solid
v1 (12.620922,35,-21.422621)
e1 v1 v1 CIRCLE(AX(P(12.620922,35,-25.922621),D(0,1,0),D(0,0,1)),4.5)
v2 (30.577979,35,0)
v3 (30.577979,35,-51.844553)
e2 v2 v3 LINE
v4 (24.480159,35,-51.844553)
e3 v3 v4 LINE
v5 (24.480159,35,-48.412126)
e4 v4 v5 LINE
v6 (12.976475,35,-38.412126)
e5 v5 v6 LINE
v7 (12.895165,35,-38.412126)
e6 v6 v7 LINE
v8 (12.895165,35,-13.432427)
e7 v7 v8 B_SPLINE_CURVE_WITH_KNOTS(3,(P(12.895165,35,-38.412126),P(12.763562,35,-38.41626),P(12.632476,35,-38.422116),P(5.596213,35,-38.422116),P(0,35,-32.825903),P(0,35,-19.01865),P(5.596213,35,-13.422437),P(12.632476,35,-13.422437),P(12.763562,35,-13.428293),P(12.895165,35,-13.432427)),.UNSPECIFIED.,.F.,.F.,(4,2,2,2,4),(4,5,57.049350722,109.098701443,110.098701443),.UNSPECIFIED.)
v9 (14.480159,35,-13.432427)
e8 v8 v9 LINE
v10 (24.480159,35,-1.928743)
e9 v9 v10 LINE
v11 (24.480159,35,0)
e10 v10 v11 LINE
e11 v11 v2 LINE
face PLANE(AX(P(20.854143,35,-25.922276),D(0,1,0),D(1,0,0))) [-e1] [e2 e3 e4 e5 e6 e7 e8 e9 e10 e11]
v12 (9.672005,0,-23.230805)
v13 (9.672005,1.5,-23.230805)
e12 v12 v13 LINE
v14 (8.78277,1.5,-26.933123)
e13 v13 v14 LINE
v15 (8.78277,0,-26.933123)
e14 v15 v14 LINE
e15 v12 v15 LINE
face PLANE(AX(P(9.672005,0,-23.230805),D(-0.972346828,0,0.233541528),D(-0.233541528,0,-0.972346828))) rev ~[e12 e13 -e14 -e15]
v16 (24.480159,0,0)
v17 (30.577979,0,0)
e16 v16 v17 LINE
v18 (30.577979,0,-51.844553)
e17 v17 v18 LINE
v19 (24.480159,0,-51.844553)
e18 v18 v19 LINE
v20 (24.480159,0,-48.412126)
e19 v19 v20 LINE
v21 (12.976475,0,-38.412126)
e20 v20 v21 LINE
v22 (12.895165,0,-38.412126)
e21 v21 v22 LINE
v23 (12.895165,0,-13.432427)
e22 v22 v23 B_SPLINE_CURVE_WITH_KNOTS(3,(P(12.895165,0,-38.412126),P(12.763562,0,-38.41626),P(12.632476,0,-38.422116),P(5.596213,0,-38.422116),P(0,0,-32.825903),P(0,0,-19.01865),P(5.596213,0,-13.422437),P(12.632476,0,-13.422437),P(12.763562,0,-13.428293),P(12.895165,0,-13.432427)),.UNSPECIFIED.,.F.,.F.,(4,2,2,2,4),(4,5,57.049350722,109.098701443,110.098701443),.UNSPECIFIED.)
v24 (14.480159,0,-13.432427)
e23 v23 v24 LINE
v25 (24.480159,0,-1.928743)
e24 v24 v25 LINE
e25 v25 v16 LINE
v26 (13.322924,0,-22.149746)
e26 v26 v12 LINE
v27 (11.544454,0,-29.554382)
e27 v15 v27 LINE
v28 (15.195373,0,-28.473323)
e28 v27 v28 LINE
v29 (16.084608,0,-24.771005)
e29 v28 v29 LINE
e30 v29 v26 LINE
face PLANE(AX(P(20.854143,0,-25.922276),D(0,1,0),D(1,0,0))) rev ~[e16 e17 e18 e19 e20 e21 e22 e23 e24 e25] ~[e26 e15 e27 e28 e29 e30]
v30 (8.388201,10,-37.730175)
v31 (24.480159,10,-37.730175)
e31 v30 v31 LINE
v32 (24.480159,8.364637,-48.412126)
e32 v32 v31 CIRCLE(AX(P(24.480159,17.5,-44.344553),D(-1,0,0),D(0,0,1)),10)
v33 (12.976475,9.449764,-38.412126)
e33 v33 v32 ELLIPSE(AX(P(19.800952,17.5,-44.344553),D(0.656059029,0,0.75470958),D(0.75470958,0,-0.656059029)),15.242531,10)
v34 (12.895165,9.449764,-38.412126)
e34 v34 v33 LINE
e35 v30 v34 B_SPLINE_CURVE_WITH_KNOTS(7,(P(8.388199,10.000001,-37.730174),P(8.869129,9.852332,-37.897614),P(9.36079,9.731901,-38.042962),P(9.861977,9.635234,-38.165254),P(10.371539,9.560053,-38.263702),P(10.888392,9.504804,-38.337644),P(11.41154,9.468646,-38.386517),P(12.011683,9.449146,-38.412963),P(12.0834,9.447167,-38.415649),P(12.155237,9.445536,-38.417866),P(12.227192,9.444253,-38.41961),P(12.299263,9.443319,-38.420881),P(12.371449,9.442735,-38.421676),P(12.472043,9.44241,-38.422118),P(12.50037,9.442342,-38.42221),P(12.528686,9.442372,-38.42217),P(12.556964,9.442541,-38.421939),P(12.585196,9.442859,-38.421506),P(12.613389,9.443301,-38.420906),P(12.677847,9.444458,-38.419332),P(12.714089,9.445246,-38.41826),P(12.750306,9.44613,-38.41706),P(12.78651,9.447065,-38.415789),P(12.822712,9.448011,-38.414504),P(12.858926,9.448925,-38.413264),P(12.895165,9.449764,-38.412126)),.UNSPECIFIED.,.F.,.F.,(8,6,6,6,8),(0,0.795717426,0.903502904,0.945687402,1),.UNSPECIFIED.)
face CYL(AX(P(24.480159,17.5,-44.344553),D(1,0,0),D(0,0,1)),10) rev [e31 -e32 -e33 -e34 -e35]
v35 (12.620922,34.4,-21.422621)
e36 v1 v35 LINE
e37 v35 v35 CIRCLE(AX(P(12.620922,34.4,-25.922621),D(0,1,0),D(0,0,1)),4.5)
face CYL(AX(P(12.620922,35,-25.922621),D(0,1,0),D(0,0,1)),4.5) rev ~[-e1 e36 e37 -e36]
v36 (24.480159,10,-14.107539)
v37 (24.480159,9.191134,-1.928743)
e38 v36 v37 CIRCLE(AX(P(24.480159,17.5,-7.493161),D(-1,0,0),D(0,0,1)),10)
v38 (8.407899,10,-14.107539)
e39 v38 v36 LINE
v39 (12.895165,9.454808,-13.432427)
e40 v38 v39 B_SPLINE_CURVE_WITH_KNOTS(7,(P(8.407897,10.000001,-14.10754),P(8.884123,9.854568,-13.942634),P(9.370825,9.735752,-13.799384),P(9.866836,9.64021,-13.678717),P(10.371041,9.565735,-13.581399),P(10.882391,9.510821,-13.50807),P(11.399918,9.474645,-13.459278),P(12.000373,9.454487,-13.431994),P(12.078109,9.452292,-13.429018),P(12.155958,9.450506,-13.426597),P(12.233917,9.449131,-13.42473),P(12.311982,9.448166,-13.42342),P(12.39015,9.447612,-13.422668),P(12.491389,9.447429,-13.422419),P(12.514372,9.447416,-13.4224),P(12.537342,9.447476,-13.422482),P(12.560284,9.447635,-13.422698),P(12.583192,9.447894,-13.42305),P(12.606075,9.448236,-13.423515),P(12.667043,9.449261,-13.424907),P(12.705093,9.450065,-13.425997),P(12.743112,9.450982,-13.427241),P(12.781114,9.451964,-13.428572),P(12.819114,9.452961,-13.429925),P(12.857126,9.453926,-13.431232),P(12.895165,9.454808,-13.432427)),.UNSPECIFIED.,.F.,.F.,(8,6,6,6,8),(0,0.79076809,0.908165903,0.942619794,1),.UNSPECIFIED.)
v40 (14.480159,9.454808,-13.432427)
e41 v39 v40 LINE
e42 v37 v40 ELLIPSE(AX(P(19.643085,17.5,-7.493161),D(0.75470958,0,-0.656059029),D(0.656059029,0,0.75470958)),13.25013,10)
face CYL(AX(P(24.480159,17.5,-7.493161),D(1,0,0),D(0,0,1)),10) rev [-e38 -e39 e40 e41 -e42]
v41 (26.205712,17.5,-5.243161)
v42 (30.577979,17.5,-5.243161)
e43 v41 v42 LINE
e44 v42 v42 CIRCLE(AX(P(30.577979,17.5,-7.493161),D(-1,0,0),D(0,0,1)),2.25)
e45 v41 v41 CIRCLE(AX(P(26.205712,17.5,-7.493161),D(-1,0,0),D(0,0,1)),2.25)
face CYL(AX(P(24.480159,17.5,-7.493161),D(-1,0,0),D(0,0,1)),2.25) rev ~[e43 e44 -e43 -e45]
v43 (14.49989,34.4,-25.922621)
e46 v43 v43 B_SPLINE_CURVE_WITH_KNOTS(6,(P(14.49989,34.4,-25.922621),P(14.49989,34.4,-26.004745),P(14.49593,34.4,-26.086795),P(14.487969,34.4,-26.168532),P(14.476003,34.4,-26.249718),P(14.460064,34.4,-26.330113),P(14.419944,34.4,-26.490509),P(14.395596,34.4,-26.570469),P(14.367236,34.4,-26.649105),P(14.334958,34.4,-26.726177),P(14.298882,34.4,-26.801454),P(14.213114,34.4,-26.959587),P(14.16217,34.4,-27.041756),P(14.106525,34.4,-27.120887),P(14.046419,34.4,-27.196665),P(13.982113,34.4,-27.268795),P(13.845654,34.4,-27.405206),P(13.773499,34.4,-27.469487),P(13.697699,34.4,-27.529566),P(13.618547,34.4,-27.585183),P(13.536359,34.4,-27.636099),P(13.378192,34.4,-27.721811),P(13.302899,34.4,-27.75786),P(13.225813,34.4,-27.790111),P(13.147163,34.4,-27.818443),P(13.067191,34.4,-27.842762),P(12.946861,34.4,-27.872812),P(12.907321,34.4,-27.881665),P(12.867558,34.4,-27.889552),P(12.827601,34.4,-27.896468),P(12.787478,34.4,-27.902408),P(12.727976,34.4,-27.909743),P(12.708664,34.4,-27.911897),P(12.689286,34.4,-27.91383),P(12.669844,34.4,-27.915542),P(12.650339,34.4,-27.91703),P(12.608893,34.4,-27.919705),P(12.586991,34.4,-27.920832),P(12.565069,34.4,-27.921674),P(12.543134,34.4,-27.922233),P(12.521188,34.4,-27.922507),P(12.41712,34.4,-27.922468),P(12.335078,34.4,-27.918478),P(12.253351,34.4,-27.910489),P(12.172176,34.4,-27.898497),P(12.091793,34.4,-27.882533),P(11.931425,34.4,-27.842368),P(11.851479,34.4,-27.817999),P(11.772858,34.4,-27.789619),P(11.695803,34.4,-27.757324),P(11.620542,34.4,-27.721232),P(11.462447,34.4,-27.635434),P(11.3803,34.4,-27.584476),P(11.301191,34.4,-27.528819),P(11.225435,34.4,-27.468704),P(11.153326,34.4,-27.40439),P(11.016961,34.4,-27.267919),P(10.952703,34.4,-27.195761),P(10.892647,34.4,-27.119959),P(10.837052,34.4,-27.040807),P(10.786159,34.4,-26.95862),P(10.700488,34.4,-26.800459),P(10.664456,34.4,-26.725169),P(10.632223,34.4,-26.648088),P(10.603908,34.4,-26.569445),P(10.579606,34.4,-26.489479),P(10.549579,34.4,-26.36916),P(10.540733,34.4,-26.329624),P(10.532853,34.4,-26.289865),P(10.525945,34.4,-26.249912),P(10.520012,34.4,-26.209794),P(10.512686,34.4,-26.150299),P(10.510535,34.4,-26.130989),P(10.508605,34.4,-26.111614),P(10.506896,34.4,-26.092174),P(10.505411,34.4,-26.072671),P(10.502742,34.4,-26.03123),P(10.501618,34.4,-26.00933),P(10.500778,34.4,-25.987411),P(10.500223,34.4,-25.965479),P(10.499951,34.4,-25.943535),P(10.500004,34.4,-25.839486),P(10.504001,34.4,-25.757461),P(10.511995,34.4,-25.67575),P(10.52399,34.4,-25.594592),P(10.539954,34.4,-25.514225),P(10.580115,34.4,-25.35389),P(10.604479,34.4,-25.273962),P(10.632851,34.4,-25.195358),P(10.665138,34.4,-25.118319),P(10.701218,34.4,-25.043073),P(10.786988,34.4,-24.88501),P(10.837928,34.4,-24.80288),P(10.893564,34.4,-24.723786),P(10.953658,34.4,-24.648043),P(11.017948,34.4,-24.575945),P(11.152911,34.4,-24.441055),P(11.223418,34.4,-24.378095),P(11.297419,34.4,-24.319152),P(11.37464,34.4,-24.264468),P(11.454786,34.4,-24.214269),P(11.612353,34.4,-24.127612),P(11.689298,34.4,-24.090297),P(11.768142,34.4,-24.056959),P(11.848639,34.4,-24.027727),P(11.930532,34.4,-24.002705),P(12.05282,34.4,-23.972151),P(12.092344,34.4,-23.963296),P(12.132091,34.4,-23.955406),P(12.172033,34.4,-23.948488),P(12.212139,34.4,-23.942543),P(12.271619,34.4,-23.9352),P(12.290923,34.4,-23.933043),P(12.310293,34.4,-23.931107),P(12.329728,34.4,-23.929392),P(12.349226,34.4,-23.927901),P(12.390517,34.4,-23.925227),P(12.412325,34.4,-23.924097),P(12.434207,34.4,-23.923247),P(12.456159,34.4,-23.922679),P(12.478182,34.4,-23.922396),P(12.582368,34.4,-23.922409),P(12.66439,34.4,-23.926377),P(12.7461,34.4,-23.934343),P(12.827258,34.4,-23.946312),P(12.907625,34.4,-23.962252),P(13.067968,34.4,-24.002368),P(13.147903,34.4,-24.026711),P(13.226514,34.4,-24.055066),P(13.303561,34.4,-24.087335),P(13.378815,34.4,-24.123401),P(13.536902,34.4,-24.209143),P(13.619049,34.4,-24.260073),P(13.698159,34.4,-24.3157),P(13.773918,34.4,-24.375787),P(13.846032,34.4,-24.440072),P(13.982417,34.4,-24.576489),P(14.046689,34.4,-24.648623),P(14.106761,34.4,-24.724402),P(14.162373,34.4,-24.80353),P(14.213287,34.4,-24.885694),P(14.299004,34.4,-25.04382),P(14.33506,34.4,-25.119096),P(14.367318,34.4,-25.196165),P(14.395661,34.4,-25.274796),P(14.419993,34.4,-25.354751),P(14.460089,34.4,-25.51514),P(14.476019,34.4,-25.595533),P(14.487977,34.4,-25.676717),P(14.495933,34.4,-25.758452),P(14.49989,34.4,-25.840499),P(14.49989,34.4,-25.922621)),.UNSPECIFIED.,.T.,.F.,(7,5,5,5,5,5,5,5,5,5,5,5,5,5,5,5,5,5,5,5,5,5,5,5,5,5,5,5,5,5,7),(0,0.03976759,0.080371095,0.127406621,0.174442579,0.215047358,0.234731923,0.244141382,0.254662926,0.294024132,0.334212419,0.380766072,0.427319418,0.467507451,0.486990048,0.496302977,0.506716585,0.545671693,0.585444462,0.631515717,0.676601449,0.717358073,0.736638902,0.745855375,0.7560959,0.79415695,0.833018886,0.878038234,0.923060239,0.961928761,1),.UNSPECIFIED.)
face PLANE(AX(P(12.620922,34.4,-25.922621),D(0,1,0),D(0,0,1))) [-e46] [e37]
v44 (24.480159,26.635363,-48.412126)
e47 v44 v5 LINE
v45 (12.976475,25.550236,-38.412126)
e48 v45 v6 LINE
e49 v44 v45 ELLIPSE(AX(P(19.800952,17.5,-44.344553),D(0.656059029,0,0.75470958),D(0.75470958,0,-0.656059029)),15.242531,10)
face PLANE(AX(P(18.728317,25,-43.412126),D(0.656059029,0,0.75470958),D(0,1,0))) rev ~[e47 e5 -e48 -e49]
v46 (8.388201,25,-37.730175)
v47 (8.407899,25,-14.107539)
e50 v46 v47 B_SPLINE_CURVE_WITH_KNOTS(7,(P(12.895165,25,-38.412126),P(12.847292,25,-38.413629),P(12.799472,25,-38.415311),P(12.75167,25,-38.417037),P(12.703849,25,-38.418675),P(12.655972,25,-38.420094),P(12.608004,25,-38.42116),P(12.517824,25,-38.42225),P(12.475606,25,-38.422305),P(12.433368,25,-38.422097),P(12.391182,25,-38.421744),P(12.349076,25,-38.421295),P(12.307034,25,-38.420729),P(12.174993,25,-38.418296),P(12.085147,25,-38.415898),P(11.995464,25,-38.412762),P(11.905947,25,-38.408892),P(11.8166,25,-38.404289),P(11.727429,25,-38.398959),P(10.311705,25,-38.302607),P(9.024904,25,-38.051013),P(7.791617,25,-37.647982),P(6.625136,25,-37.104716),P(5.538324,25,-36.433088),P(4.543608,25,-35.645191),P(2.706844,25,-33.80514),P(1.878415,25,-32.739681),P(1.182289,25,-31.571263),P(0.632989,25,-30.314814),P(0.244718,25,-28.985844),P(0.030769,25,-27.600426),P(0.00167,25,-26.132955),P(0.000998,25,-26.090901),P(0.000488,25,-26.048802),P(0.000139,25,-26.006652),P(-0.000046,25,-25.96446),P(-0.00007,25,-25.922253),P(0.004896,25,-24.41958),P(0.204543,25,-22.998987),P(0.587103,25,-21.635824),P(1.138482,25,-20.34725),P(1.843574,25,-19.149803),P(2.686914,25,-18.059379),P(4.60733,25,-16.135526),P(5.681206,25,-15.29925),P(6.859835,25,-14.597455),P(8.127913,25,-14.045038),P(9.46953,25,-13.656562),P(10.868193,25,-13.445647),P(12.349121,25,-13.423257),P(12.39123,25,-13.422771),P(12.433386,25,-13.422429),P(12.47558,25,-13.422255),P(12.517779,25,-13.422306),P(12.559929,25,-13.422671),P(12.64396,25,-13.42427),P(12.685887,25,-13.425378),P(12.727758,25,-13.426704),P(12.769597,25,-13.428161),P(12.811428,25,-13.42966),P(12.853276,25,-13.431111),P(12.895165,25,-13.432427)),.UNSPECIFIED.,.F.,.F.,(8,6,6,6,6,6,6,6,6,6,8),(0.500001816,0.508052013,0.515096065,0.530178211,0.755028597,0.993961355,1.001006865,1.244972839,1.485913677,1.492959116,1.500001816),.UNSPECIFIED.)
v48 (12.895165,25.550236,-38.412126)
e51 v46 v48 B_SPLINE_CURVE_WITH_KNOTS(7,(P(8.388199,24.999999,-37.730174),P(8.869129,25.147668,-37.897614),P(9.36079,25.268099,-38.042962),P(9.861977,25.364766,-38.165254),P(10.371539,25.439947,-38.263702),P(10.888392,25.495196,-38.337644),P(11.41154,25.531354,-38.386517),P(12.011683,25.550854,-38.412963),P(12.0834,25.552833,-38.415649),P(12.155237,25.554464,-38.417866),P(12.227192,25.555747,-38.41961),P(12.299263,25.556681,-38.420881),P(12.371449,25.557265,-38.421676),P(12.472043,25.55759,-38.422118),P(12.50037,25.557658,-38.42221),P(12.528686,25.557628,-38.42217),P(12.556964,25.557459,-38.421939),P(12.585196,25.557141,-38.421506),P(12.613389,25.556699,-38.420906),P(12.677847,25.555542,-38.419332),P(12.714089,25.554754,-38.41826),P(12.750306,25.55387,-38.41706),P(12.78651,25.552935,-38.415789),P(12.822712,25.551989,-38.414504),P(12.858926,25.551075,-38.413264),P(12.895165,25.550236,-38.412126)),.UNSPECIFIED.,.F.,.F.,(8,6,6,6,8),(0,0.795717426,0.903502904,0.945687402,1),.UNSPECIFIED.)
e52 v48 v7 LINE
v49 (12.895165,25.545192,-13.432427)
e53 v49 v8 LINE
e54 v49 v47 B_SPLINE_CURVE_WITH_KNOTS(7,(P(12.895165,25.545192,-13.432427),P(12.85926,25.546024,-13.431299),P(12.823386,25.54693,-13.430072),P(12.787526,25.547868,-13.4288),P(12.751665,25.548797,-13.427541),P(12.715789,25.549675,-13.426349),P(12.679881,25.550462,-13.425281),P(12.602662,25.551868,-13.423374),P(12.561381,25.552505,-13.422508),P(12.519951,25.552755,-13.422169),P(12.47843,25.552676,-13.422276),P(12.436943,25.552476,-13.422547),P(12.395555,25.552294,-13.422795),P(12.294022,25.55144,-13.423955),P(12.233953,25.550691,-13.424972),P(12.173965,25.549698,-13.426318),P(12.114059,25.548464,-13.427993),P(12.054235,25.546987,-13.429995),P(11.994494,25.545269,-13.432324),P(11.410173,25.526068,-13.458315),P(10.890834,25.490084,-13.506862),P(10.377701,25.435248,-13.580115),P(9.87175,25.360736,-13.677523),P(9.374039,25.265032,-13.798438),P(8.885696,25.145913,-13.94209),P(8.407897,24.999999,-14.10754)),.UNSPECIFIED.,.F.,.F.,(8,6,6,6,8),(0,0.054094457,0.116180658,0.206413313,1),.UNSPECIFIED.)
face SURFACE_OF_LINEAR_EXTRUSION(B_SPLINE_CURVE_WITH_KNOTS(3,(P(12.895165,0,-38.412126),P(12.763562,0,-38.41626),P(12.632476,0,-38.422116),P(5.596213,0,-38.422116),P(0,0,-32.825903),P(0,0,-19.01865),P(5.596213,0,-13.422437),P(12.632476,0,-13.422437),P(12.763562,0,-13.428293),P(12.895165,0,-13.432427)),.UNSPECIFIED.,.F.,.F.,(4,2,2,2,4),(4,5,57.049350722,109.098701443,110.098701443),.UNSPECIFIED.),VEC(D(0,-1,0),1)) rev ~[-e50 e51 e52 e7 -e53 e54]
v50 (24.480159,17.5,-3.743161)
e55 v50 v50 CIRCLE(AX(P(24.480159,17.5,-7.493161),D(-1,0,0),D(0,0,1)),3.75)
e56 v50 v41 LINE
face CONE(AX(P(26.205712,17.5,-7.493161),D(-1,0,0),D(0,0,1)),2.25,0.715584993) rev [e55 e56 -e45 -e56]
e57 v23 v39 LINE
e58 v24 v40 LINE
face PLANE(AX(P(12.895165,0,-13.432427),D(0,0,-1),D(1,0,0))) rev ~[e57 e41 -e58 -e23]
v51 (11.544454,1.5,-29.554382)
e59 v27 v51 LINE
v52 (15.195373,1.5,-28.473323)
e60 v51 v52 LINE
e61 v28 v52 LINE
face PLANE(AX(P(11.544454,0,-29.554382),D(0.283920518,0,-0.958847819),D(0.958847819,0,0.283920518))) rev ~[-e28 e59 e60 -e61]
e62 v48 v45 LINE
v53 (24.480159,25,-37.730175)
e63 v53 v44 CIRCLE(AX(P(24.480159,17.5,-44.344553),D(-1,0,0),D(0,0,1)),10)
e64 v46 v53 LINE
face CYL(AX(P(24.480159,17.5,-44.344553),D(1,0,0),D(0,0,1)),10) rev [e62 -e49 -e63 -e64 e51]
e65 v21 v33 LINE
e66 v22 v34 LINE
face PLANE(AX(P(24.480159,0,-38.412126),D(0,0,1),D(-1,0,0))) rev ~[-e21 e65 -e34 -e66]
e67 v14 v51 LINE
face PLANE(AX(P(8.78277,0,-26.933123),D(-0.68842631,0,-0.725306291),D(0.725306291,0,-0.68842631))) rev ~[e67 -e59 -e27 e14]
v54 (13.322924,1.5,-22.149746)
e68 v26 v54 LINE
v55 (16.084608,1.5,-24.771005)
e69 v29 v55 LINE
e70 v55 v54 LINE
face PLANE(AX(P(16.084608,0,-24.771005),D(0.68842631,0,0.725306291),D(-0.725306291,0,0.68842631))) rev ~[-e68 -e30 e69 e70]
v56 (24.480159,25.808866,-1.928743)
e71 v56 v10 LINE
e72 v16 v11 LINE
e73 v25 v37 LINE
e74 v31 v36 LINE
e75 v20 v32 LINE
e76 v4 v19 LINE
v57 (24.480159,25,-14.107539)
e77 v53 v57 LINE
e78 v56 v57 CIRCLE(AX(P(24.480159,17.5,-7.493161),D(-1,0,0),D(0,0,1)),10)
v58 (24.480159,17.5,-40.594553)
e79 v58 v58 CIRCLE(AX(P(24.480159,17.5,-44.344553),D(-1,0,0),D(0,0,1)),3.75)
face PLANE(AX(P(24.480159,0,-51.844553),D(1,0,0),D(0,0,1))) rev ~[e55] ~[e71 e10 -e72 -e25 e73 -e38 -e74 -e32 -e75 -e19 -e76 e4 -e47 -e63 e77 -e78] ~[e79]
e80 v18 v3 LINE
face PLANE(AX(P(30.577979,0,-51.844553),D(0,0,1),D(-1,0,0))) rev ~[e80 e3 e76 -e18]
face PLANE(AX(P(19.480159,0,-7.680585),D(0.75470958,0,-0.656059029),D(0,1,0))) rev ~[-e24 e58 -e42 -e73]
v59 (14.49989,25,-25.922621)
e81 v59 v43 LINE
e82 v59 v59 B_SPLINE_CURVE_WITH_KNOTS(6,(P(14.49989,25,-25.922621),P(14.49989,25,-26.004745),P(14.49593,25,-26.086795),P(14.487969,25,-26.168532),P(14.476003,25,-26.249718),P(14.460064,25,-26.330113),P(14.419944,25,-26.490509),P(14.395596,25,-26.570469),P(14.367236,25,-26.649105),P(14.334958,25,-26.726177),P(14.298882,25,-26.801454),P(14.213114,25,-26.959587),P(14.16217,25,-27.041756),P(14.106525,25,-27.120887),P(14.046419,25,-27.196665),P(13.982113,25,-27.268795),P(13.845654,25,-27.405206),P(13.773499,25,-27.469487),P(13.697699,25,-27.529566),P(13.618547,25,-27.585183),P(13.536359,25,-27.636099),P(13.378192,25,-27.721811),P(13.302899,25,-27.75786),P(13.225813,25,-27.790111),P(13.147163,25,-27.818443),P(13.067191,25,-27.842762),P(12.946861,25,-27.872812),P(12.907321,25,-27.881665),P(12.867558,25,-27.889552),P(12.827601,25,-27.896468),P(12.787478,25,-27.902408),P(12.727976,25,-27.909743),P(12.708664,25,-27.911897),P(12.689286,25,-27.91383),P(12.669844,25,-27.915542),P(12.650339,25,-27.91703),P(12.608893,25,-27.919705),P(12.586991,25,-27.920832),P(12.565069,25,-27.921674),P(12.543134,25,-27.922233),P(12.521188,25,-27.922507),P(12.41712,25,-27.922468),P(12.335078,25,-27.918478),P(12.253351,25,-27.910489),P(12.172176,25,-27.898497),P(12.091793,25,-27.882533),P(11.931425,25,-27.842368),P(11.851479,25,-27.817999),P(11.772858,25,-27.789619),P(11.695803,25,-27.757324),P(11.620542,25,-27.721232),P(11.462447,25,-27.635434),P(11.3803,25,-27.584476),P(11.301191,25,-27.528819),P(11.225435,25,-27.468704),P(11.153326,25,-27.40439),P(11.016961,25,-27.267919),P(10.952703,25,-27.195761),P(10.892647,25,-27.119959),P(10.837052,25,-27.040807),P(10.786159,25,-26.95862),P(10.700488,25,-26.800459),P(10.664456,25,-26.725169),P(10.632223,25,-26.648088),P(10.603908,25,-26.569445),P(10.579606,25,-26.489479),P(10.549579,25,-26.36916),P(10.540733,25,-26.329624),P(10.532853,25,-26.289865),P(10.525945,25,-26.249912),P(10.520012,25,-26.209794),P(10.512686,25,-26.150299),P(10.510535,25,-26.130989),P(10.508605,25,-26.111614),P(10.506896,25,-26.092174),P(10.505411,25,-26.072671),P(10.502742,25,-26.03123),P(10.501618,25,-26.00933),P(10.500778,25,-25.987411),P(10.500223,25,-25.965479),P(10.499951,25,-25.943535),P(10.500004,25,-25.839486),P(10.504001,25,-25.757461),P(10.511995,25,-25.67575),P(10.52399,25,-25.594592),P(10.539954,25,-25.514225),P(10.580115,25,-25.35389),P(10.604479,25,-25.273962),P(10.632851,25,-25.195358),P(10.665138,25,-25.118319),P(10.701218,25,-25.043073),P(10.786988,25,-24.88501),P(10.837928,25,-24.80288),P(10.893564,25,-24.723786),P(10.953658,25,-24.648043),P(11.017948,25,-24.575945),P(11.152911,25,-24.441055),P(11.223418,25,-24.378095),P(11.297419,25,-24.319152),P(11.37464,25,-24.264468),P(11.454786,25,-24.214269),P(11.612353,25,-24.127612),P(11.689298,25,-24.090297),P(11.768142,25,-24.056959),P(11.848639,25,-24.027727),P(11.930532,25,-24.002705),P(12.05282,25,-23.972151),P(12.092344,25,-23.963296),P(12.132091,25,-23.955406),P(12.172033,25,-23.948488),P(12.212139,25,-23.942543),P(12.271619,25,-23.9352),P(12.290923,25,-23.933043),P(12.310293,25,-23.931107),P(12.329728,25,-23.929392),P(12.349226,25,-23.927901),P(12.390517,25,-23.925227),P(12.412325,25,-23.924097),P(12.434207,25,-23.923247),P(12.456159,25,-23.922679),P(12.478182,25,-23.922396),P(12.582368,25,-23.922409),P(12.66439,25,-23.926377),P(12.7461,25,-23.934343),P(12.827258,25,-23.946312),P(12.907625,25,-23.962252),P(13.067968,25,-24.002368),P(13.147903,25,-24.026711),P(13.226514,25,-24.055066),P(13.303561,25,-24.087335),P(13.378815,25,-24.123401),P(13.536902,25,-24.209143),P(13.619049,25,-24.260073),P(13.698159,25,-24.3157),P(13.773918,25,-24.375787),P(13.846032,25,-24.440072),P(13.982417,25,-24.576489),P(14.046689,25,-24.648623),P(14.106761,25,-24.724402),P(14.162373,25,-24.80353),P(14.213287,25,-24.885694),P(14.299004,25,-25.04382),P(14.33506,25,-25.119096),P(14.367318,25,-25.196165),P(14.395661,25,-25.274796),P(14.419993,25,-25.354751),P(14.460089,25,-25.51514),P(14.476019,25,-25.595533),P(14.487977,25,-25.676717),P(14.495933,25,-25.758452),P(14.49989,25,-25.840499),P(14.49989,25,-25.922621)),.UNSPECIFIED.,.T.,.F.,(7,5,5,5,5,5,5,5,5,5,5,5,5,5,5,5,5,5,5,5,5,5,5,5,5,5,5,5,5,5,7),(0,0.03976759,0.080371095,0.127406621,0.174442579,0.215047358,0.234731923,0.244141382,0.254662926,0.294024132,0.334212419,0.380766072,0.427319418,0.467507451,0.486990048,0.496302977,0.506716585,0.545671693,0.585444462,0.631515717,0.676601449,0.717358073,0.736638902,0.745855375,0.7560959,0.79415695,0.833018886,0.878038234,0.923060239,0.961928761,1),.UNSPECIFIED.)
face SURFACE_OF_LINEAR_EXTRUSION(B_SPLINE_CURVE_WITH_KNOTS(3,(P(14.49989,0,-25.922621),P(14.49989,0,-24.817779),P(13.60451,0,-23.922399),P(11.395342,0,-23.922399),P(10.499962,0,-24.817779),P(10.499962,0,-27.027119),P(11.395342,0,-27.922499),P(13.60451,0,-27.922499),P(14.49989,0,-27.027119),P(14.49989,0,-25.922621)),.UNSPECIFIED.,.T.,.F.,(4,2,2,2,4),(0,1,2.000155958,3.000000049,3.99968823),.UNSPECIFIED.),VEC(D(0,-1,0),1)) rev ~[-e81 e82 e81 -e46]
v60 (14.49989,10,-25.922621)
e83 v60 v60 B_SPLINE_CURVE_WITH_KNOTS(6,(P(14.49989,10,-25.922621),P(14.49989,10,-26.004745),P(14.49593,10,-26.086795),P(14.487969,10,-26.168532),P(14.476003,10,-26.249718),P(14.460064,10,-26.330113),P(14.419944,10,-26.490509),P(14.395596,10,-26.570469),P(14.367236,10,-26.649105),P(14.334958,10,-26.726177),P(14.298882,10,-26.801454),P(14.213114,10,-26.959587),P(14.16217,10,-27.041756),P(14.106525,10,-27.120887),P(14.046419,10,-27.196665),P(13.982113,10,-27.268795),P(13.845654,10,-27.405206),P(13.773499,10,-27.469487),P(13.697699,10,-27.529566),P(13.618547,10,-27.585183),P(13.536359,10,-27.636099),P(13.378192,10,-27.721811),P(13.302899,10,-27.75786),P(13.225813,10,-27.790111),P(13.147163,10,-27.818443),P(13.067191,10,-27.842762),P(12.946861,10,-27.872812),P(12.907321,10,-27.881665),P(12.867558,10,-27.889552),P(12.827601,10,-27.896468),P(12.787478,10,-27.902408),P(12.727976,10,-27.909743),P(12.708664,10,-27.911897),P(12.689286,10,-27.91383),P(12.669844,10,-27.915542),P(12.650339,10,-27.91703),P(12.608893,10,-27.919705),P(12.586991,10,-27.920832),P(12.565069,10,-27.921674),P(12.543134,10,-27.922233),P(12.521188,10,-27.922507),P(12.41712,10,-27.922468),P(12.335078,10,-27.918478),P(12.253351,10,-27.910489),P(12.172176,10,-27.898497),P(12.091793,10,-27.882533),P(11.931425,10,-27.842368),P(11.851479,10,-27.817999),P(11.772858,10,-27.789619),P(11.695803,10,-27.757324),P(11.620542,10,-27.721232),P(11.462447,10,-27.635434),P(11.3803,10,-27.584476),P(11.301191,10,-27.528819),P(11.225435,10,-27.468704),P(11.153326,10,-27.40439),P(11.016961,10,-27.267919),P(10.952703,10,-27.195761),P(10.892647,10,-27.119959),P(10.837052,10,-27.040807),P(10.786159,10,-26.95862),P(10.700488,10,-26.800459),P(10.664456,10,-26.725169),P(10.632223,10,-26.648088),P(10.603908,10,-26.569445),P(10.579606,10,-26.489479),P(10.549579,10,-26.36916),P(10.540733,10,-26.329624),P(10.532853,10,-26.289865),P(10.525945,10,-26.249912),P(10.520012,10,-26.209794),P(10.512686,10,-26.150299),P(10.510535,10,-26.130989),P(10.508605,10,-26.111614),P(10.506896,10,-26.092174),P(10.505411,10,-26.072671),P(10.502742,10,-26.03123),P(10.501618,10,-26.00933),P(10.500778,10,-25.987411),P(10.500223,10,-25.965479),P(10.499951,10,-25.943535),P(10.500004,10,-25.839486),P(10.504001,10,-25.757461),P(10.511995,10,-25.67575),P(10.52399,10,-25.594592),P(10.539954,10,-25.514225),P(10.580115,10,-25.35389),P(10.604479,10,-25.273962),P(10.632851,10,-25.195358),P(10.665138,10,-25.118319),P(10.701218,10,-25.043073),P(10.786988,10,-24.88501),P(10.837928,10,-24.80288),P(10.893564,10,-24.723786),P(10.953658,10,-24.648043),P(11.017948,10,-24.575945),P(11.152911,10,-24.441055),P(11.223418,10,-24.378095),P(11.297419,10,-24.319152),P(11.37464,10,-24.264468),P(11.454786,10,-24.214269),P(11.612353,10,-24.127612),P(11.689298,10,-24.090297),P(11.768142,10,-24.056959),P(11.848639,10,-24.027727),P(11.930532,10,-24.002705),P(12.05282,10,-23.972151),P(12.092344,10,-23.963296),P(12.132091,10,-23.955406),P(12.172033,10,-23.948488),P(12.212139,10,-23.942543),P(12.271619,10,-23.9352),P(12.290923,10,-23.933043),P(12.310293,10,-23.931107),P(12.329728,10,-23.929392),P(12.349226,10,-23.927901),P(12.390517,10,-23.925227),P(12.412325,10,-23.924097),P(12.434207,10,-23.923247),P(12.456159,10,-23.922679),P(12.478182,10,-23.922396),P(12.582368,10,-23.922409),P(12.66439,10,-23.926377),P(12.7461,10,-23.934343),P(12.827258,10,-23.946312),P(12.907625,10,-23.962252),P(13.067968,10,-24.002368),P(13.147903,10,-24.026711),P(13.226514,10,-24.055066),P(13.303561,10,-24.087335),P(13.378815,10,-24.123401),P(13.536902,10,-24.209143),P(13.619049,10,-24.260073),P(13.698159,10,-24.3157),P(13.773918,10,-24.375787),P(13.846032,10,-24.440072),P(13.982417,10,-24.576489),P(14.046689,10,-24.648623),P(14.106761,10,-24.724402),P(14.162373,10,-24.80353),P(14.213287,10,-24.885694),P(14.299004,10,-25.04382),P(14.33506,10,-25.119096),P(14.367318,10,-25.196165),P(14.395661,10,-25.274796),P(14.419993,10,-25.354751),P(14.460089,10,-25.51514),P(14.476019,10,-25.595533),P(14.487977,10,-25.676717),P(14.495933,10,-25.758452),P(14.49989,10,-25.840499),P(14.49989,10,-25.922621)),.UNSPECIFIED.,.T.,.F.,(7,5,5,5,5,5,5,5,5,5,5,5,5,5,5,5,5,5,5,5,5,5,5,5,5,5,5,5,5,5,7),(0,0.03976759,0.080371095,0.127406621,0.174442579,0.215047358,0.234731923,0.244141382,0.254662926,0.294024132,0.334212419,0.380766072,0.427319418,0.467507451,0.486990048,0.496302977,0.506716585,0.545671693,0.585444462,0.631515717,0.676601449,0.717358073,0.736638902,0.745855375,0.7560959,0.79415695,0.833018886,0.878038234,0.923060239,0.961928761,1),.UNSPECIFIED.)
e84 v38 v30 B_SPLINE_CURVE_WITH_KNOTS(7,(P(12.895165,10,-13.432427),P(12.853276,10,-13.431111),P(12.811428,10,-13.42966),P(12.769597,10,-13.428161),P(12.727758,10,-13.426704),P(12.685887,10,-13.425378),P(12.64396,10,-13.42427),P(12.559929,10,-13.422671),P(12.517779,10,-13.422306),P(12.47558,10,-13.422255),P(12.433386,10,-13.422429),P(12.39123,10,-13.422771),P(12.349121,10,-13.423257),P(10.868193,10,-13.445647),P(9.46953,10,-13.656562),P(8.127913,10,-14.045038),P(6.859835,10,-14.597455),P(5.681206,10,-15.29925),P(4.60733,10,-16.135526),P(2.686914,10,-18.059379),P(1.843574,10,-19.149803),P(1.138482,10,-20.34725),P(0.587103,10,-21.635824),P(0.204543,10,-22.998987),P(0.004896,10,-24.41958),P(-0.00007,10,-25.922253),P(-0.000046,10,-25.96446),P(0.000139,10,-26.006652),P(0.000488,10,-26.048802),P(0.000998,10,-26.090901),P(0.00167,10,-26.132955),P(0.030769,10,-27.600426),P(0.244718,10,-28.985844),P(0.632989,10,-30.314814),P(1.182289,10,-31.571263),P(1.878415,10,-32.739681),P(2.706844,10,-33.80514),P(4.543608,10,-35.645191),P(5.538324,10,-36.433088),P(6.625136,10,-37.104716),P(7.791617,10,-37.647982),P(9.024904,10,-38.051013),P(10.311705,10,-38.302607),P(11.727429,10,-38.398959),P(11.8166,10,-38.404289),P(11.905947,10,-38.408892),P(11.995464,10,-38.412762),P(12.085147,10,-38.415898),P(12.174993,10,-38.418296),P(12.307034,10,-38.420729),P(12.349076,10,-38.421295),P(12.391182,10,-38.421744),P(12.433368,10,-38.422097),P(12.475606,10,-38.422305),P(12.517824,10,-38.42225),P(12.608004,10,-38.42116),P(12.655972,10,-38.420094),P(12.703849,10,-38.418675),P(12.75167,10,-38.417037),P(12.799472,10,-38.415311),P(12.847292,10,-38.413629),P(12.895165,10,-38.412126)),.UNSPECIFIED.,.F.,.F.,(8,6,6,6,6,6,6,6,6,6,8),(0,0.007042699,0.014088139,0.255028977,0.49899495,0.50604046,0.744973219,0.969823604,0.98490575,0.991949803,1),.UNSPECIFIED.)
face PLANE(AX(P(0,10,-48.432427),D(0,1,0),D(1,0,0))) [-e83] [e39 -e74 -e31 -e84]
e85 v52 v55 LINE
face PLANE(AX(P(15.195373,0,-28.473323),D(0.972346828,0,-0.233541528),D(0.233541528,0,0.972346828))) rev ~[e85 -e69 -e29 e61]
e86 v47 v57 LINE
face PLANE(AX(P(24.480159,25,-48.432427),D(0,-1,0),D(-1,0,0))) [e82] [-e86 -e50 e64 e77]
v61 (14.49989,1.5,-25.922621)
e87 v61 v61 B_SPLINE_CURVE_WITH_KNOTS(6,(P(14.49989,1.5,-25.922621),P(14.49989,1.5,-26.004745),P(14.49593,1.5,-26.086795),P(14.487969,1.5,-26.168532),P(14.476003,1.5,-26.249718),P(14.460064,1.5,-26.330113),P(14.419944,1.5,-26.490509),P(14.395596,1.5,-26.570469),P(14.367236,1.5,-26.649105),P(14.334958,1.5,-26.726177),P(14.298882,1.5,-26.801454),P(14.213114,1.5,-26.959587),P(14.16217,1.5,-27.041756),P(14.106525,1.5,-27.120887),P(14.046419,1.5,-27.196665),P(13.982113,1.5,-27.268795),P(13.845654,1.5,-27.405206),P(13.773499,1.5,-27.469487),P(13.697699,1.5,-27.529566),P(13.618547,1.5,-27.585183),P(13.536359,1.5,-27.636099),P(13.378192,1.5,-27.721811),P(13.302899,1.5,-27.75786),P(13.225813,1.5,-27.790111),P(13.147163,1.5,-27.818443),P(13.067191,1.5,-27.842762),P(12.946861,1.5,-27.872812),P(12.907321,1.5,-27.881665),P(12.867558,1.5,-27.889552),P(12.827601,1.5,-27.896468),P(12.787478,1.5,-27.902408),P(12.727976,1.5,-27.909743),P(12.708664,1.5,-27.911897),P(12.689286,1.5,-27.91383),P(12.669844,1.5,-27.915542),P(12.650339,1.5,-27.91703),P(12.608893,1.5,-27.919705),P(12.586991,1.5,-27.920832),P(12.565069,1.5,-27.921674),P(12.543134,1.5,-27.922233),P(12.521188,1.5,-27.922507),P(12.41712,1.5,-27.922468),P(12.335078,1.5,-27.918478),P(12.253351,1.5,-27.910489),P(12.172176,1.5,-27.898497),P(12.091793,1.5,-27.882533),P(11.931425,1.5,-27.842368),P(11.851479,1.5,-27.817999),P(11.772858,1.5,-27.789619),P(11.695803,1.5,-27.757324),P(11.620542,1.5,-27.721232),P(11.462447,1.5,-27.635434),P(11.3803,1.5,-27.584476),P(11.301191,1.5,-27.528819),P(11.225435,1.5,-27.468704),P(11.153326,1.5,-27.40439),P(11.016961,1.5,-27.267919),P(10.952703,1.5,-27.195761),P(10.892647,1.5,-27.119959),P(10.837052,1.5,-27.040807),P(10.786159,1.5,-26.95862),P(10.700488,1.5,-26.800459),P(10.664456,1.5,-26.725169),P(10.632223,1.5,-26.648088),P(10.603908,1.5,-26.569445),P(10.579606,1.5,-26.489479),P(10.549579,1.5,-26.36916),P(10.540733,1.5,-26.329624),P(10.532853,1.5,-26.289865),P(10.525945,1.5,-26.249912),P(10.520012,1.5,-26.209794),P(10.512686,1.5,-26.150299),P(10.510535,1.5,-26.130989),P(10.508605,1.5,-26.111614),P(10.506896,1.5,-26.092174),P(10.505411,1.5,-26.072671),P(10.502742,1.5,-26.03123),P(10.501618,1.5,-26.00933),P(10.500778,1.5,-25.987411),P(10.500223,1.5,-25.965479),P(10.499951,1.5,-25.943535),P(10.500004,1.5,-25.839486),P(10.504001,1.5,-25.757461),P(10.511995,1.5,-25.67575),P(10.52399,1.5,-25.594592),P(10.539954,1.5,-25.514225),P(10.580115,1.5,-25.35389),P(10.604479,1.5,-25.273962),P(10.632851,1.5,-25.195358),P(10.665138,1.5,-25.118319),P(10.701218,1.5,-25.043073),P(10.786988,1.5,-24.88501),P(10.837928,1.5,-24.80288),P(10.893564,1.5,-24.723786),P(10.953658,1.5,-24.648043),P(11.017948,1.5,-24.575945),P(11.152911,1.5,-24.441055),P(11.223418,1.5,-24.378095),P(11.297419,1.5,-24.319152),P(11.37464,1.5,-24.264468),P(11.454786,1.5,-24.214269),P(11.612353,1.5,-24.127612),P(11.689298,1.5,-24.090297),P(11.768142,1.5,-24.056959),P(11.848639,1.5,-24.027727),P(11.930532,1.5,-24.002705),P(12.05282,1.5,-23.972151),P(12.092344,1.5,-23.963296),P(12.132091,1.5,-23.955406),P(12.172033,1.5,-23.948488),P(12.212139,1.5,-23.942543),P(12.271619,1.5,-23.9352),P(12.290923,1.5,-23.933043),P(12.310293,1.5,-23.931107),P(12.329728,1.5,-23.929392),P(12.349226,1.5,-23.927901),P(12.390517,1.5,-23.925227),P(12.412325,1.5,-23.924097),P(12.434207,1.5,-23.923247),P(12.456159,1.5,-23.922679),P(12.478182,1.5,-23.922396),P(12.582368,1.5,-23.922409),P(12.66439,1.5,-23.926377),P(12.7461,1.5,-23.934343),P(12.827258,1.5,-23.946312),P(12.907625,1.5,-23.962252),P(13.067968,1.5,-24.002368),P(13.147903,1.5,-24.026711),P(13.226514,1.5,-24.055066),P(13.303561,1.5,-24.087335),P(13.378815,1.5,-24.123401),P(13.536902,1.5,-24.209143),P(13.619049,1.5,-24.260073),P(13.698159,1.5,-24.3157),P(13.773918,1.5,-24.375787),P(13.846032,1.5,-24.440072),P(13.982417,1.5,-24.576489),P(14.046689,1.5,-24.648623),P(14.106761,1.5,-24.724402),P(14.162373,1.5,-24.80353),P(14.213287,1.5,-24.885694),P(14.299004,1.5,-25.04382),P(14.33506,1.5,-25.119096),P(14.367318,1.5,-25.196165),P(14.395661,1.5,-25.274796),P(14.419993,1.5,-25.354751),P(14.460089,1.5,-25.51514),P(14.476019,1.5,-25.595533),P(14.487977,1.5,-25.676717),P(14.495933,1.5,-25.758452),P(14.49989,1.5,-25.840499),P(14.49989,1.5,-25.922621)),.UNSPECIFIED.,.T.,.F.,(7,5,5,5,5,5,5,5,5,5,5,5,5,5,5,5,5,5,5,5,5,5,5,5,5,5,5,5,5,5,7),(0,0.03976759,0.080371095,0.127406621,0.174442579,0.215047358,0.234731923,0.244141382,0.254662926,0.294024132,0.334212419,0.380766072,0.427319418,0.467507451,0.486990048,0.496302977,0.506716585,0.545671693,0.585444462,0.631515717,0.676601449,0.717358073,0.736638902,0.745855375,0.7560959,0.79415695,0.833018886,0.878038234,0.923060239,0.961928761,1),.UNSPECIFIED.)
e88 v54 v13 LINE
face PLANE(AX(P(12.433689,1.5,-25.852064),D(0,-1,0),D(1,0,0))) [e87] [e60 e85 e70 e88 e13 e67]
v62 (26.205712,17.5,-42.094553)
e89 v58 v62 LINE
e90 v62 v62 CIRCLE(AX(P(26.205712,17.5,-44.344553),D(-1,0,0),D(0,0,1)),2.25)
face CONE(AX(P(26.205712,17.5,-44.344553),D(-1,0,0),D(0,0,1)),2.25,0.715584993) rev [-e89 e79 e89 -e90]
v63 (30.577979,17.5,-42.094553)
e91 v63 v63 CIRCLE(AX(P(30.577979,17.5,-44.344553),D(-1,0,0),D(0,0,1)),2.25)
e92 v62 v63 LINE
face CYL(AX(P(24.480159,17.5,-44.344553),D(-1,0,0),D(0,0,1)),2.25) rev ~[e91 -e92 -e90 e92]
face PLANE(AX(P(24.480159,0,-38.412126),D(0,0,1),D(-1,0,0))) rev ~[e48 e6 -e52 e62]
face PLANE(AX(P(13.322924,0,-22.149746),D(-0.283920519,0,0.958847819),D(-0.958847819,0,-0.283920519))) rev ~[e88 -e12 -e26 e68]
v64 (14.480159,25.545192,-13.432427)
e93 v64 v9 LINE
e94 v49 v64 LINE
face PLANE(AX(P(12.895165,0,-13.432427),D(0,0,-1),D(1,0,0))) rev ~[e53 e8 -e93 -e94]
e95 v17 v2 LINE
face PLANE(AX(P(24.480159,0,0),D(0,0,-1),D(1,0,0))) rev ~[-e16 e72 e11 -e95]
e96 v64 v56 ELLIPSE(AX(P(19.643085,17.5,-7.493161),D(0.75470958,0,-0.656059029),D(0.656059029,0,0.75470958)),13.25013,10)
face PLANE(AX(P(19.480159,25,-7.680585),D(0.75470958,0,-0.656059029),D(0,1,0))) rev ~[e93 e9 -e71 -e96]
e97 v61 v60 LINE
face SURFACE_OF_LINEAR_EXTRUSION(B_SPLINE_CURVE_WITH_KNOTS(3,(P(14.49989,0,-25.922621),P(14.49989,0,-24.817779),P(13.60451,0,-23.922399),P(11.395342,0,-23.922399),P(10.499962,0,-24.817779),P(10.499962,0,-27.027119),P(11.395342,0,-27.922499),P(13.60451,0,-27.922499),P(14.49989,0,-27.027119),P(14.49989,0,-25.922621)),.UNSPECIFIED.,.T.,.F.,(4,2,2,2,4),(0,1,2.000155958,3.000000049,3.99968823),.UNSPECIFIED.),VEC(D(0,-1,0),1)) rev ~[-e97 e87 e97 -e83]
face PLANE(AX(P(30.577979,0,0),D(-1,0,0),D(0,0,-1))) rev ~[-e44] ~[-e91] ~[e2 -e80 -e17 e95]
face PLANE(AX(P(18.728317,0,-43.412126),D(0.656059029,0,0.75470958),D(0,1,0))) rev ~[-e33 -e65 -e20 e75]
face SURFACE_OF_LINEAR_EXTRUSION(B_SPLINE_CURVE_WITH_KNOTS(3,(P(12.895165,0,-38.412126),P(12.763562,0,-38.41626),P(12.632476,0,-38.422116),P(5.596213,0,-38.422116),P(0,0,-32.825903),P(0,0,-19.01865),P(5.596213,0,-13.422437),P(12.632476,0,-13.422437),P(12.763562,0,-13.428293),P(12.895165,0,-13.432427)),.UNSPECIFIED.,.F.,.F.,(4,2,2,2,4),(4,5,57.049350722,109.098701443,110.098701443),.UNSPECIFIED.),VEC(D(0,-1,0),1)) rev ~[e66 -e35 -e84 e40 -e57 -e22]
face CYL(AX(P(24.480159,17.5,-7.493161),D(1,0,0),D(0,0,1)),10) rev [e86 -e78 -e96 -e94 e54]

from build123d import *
from OCP.BRepFilletAPI import BRepFilletAPI_MakeChamfer

# Parameters (mm, degrees)
BOSS_EXTRUDE1_DEPTH     = 35
CUT_EXTRUDE1_DEPTH      = 35
CUT_EXTRUDE1_DEPTH_BACK = 35
SKETCH2_W               = 12.895164656
SKETCH2_H               = 15
SKETCH2_W_2             = 11.584994843
CHAMFER1_SIZE           = 10
CHAMFER1_SIZE2          = 11.503684072
SKETCH3_R               = 2.25
CUT_EXTRUDE2_DEPTH      = 68.172434084
CHAMFER2_SIZE           = 1.5
CHAMFER2_SIZE2          = 1.725552611
SKETCH5_R               = 4.5
CUT_EXTRUDE3_DEPTH      = 0.6
CUT_EXTRUDE4_DEPTH      = 1.5
SKETCH9_R               = 10
CUT_EXTRUDE5_DEPTH      = 35


with BuildPart() as part:
    # Sketch1 → Boss-Extrude1 (new body)
    with BuildSketch(Plane(origin=(0, 0, 0), x_dir=(1, 0, 0), z_dir=(0, 1, 0))):
        with BuildLine():
            Line((30.577978508, 38.412125641), (30.577978508, 51.844552938))
            Line((30.577978508, 51.844552938), (24.480159499, 51.844552938))
            Line((24.480159499, 51.844552938), (24.480159499, 38.412125641))
            Line((24.480159499, 38.412125641), (12.895164656, 38.412125641))
            add(Edge.make_bspline(
                [(12.895164656, 38.412125641), (12.763562009, 38.416259756), (12.632476125, 38.422116418), (12.499839949, 38.422116418)],
                knots=[4, 4, 4, 4, 5, 5, 5, 5], degree=3))
            add(Edge.make_bspline(
                [(12.499839949, 38.422116418), (5.596213106, 38.422116418), (0, 32.825903312), (0, 25.922276469)],
                knots=[5, 5, 5, 5, 6, 6, 6, 6], degree=3))
            add(Edge.make_bspline(
                [(0, 25.922276469), (0, 19.018649626), (5.596213106, 13.42243652), (12.499839949, 13.42243652)],
                knots=[6, 6, 6, 6, 7, 7, 7, 7], degree=3))
            add(Edge.make_bspline(
                [(12.499839949, 13.42243652), (12.632476125, 13.42243652), (12.763562009, 13.428293182), (12.895164656, 13.432427297)],
                knots=[7, 7, 7, 7, 8, 8, 8, 8], degree=3))
            Line((12.895164656, 13.432427297), (24.480159499, 13.432427297))
            Line((24.480159499, 13.432427297), (24.480159499, 0))
            Line((24.480159499, 0), (30.577978508, 0))
            Line((30.577978508, 0), (30.577978508, 13.432427297))
            Line((30.577978508, 13.432427297), (30.577978508, 38.412125641))
        make_face()
        with BuildLine():
            add(Edge.make_bspline(
                [(10.49996202, 25.922620979), (10.49996202, 27.027118591), (11.395342337, 27.922498908), (12.500012204, 27.922498908), (13.604509816, 27.922498908), (14.499890133, 27.027118591), (14.499890133, 25.922620979)],
                knots=[2, 2, 2, 2, 3, 3, 3, 4, 4, 4, 4], degree=3))
            add(Edge.make_bspline(
                [(14.499890133, 25.922620979), (14.499890133, 24.817778857), (13.604509816, 23.92239854), (12.500012204, 23.92239854), (11.395342337, 23.92239854), (10.49996202, 24.817778857), (10.49996202, 25.922620979)],
                knots=[0, 0, 0, 0, 1, 1, 1, 2, 2, 2, 2], degree=3))
        make_face(mode=Mode.SUBTRACT)
    extrude(amount=BOSS_EXTRUDE1_DEPTH)

    # Sketch2 → Cut-Extrude1 (cut, two sides: drawn at the far end of the back side and taken through both)
    with BuildSketch(Plane.XY.offset(-13.432427297).offset(-CUT_EXTRUDE1_DEPTH_BACK)):
        with Locations((6.447582328, 17.5)):
            Rectangle(SKETCH2_W, SKETCH2_H)
        with Locations((18.687662078, 17.5)):
            Rectangle(SKETCH2_W_2, SKETCH2_H)
    extrude(amount=CUT_EXTRUDE1_DEPTH + CUT_EXTRUDE1_DEPTH_BACK, mode=Mode.SUBTRACT)

    # Chamfer1: one chamfer whose edges measure the first distance from different faces: ONE call of the kernel's chamfer builder (chamfer() names one face for all edges)
    chamfer1_edges_1 = [part.edges().sort_by_distance(p)[0] for p in [
        (24.480159499, 30, -13.432427297),
    ]]
    chamfer1_side_1 = [part.faces().sort_by_distance(p)[0] for p in [
        (18.687662078, 30, -13.432427297),
    ]]
    chamfer1_edges_2 = [part.edges().sort_by_distance(p)[0] for p in [
        (24.480159499, 30, -38.412125641),
        (24.480159499, 5, -38.412125641),
    ]]
    chamfer1_side_2 = [part.faces().sort_by_distance(p)[0] for p in [
        (24.480159499, 17.5, -25.922276469),
    ]]
    chamfer1_edges_3 = [part.edges().sort_by_distance(p)[0] for p in [
        (24.480159499, 5, -13.432427297),
    ]]
    chamfer1_side_3 = [part.faces().sort_by_distance(p)[0] for p in [
        (18.687662078, 5, -13.432427297),
    ]]
    chamfer1 = BRepFilletAPI_MakeChamfer(part.part.solid().wrapped)
    for e in chamfer1_edges_1:
        chamfer1.Add(CHAMFER1_SIZE, CHAMFER1_SIZE2, e.wrapped, chamfer1_side_1[0].wrapped)  # the first distance lies on this face
    for e in chamfer1_edges_2:
        chamfer1.Add(CHAMFER1_SIZE, CHAMFER1_SIZE2, e.wrapped, chamfer1_side_2[0].wrapped)  # the first distance lies on this face
    for e in chamfer1_edges_3:
        chamfer1.Add(CHAMFER1_SIZE, CHAMFER1_SIZE2, e.wrapped, chamfer1_side_3[0].wrapped)  # the first distance lies on this face
    add(Compound.cast(chamfer1.Shape()), mode=Mode.REPLACE)

    # Sketch3 → Cut-Extrude2 (cut, through all)
    with BuildSketch(Plane.ZY.offset(-24.480159499)):
        with Locations((-44.344552938, 17.5)):
            Circle(SKETCH3_R)
        with Locations((-7.49316056, 17.5)):
            Circle(SKETCH3_R)
    extrude(amount=-CUT_EXTRUDE2_DEPTH, mode=Mode.SUBTRACT)

    # Chamfer2
    chamfer2_edges = [part.edges().sort_by_distance(p)[0] for p in [
        (24.480159499, 17.5, -46.594552938),
        (24.480159499, 17.5, -9.74316056),
    ]]
    chamfer2_side = [part.faces().sort_by_distance(p)[0] for p in [
        (24.480159499, 17.5, -26.741741785),
    ]]
    chamfer(chamfer2_edges, length=CHAMFER2_SIZE, length2=CHAMFER2_SIZE2, reference=chamfer2_side[0])

    # Sketch5 → Cut-Extrude3 (cut)
    with BuildSketch(Plane(origin=(0, 35, 0), x_dir=(1, 0, 0), z_dir=(0, 1, 0))):
        with Locations(Location((12.620921734, 25.922620979, 0), (0, 0, 270))):
            Circle(SKETCH5_R)
    extrude(amount=-CUT_EXTRUDE3_DEPTH, mode=Mode.SUBTRACT)

    # Sketch8 → Cut-Extrude4 (cut)
    with BuildSketch(Plane.XZ):
        Polygon((15.19537285, -28.473323484), (16.084608047, -24.771005389), (13.322924122, -22.149746071), (9.672005001, -23.230804848), (8.782769803, -26.933122943), (11.544453728, -29.554382261), align=None)
    extrude(amount=-CUT_EXTRUDE4_DEPTH, mode=Mode.SUBTRACT)

    # Sketch9 → Cut-Extrude5 (cut)
    with BuildSketch(Plane.ZY.offset(-24.480159499)):
        with Locations((-7.49316056, 17.5)):
            Circle(SKETCH9_R)
        with Locations((-44.344552938, 17.5)):
            Circle(SKETCH9_R)
    extrude(amount=CUT_EXTRUDE5_DEPTH, mode=Mode.SUBTRACT)


solid = part.part
